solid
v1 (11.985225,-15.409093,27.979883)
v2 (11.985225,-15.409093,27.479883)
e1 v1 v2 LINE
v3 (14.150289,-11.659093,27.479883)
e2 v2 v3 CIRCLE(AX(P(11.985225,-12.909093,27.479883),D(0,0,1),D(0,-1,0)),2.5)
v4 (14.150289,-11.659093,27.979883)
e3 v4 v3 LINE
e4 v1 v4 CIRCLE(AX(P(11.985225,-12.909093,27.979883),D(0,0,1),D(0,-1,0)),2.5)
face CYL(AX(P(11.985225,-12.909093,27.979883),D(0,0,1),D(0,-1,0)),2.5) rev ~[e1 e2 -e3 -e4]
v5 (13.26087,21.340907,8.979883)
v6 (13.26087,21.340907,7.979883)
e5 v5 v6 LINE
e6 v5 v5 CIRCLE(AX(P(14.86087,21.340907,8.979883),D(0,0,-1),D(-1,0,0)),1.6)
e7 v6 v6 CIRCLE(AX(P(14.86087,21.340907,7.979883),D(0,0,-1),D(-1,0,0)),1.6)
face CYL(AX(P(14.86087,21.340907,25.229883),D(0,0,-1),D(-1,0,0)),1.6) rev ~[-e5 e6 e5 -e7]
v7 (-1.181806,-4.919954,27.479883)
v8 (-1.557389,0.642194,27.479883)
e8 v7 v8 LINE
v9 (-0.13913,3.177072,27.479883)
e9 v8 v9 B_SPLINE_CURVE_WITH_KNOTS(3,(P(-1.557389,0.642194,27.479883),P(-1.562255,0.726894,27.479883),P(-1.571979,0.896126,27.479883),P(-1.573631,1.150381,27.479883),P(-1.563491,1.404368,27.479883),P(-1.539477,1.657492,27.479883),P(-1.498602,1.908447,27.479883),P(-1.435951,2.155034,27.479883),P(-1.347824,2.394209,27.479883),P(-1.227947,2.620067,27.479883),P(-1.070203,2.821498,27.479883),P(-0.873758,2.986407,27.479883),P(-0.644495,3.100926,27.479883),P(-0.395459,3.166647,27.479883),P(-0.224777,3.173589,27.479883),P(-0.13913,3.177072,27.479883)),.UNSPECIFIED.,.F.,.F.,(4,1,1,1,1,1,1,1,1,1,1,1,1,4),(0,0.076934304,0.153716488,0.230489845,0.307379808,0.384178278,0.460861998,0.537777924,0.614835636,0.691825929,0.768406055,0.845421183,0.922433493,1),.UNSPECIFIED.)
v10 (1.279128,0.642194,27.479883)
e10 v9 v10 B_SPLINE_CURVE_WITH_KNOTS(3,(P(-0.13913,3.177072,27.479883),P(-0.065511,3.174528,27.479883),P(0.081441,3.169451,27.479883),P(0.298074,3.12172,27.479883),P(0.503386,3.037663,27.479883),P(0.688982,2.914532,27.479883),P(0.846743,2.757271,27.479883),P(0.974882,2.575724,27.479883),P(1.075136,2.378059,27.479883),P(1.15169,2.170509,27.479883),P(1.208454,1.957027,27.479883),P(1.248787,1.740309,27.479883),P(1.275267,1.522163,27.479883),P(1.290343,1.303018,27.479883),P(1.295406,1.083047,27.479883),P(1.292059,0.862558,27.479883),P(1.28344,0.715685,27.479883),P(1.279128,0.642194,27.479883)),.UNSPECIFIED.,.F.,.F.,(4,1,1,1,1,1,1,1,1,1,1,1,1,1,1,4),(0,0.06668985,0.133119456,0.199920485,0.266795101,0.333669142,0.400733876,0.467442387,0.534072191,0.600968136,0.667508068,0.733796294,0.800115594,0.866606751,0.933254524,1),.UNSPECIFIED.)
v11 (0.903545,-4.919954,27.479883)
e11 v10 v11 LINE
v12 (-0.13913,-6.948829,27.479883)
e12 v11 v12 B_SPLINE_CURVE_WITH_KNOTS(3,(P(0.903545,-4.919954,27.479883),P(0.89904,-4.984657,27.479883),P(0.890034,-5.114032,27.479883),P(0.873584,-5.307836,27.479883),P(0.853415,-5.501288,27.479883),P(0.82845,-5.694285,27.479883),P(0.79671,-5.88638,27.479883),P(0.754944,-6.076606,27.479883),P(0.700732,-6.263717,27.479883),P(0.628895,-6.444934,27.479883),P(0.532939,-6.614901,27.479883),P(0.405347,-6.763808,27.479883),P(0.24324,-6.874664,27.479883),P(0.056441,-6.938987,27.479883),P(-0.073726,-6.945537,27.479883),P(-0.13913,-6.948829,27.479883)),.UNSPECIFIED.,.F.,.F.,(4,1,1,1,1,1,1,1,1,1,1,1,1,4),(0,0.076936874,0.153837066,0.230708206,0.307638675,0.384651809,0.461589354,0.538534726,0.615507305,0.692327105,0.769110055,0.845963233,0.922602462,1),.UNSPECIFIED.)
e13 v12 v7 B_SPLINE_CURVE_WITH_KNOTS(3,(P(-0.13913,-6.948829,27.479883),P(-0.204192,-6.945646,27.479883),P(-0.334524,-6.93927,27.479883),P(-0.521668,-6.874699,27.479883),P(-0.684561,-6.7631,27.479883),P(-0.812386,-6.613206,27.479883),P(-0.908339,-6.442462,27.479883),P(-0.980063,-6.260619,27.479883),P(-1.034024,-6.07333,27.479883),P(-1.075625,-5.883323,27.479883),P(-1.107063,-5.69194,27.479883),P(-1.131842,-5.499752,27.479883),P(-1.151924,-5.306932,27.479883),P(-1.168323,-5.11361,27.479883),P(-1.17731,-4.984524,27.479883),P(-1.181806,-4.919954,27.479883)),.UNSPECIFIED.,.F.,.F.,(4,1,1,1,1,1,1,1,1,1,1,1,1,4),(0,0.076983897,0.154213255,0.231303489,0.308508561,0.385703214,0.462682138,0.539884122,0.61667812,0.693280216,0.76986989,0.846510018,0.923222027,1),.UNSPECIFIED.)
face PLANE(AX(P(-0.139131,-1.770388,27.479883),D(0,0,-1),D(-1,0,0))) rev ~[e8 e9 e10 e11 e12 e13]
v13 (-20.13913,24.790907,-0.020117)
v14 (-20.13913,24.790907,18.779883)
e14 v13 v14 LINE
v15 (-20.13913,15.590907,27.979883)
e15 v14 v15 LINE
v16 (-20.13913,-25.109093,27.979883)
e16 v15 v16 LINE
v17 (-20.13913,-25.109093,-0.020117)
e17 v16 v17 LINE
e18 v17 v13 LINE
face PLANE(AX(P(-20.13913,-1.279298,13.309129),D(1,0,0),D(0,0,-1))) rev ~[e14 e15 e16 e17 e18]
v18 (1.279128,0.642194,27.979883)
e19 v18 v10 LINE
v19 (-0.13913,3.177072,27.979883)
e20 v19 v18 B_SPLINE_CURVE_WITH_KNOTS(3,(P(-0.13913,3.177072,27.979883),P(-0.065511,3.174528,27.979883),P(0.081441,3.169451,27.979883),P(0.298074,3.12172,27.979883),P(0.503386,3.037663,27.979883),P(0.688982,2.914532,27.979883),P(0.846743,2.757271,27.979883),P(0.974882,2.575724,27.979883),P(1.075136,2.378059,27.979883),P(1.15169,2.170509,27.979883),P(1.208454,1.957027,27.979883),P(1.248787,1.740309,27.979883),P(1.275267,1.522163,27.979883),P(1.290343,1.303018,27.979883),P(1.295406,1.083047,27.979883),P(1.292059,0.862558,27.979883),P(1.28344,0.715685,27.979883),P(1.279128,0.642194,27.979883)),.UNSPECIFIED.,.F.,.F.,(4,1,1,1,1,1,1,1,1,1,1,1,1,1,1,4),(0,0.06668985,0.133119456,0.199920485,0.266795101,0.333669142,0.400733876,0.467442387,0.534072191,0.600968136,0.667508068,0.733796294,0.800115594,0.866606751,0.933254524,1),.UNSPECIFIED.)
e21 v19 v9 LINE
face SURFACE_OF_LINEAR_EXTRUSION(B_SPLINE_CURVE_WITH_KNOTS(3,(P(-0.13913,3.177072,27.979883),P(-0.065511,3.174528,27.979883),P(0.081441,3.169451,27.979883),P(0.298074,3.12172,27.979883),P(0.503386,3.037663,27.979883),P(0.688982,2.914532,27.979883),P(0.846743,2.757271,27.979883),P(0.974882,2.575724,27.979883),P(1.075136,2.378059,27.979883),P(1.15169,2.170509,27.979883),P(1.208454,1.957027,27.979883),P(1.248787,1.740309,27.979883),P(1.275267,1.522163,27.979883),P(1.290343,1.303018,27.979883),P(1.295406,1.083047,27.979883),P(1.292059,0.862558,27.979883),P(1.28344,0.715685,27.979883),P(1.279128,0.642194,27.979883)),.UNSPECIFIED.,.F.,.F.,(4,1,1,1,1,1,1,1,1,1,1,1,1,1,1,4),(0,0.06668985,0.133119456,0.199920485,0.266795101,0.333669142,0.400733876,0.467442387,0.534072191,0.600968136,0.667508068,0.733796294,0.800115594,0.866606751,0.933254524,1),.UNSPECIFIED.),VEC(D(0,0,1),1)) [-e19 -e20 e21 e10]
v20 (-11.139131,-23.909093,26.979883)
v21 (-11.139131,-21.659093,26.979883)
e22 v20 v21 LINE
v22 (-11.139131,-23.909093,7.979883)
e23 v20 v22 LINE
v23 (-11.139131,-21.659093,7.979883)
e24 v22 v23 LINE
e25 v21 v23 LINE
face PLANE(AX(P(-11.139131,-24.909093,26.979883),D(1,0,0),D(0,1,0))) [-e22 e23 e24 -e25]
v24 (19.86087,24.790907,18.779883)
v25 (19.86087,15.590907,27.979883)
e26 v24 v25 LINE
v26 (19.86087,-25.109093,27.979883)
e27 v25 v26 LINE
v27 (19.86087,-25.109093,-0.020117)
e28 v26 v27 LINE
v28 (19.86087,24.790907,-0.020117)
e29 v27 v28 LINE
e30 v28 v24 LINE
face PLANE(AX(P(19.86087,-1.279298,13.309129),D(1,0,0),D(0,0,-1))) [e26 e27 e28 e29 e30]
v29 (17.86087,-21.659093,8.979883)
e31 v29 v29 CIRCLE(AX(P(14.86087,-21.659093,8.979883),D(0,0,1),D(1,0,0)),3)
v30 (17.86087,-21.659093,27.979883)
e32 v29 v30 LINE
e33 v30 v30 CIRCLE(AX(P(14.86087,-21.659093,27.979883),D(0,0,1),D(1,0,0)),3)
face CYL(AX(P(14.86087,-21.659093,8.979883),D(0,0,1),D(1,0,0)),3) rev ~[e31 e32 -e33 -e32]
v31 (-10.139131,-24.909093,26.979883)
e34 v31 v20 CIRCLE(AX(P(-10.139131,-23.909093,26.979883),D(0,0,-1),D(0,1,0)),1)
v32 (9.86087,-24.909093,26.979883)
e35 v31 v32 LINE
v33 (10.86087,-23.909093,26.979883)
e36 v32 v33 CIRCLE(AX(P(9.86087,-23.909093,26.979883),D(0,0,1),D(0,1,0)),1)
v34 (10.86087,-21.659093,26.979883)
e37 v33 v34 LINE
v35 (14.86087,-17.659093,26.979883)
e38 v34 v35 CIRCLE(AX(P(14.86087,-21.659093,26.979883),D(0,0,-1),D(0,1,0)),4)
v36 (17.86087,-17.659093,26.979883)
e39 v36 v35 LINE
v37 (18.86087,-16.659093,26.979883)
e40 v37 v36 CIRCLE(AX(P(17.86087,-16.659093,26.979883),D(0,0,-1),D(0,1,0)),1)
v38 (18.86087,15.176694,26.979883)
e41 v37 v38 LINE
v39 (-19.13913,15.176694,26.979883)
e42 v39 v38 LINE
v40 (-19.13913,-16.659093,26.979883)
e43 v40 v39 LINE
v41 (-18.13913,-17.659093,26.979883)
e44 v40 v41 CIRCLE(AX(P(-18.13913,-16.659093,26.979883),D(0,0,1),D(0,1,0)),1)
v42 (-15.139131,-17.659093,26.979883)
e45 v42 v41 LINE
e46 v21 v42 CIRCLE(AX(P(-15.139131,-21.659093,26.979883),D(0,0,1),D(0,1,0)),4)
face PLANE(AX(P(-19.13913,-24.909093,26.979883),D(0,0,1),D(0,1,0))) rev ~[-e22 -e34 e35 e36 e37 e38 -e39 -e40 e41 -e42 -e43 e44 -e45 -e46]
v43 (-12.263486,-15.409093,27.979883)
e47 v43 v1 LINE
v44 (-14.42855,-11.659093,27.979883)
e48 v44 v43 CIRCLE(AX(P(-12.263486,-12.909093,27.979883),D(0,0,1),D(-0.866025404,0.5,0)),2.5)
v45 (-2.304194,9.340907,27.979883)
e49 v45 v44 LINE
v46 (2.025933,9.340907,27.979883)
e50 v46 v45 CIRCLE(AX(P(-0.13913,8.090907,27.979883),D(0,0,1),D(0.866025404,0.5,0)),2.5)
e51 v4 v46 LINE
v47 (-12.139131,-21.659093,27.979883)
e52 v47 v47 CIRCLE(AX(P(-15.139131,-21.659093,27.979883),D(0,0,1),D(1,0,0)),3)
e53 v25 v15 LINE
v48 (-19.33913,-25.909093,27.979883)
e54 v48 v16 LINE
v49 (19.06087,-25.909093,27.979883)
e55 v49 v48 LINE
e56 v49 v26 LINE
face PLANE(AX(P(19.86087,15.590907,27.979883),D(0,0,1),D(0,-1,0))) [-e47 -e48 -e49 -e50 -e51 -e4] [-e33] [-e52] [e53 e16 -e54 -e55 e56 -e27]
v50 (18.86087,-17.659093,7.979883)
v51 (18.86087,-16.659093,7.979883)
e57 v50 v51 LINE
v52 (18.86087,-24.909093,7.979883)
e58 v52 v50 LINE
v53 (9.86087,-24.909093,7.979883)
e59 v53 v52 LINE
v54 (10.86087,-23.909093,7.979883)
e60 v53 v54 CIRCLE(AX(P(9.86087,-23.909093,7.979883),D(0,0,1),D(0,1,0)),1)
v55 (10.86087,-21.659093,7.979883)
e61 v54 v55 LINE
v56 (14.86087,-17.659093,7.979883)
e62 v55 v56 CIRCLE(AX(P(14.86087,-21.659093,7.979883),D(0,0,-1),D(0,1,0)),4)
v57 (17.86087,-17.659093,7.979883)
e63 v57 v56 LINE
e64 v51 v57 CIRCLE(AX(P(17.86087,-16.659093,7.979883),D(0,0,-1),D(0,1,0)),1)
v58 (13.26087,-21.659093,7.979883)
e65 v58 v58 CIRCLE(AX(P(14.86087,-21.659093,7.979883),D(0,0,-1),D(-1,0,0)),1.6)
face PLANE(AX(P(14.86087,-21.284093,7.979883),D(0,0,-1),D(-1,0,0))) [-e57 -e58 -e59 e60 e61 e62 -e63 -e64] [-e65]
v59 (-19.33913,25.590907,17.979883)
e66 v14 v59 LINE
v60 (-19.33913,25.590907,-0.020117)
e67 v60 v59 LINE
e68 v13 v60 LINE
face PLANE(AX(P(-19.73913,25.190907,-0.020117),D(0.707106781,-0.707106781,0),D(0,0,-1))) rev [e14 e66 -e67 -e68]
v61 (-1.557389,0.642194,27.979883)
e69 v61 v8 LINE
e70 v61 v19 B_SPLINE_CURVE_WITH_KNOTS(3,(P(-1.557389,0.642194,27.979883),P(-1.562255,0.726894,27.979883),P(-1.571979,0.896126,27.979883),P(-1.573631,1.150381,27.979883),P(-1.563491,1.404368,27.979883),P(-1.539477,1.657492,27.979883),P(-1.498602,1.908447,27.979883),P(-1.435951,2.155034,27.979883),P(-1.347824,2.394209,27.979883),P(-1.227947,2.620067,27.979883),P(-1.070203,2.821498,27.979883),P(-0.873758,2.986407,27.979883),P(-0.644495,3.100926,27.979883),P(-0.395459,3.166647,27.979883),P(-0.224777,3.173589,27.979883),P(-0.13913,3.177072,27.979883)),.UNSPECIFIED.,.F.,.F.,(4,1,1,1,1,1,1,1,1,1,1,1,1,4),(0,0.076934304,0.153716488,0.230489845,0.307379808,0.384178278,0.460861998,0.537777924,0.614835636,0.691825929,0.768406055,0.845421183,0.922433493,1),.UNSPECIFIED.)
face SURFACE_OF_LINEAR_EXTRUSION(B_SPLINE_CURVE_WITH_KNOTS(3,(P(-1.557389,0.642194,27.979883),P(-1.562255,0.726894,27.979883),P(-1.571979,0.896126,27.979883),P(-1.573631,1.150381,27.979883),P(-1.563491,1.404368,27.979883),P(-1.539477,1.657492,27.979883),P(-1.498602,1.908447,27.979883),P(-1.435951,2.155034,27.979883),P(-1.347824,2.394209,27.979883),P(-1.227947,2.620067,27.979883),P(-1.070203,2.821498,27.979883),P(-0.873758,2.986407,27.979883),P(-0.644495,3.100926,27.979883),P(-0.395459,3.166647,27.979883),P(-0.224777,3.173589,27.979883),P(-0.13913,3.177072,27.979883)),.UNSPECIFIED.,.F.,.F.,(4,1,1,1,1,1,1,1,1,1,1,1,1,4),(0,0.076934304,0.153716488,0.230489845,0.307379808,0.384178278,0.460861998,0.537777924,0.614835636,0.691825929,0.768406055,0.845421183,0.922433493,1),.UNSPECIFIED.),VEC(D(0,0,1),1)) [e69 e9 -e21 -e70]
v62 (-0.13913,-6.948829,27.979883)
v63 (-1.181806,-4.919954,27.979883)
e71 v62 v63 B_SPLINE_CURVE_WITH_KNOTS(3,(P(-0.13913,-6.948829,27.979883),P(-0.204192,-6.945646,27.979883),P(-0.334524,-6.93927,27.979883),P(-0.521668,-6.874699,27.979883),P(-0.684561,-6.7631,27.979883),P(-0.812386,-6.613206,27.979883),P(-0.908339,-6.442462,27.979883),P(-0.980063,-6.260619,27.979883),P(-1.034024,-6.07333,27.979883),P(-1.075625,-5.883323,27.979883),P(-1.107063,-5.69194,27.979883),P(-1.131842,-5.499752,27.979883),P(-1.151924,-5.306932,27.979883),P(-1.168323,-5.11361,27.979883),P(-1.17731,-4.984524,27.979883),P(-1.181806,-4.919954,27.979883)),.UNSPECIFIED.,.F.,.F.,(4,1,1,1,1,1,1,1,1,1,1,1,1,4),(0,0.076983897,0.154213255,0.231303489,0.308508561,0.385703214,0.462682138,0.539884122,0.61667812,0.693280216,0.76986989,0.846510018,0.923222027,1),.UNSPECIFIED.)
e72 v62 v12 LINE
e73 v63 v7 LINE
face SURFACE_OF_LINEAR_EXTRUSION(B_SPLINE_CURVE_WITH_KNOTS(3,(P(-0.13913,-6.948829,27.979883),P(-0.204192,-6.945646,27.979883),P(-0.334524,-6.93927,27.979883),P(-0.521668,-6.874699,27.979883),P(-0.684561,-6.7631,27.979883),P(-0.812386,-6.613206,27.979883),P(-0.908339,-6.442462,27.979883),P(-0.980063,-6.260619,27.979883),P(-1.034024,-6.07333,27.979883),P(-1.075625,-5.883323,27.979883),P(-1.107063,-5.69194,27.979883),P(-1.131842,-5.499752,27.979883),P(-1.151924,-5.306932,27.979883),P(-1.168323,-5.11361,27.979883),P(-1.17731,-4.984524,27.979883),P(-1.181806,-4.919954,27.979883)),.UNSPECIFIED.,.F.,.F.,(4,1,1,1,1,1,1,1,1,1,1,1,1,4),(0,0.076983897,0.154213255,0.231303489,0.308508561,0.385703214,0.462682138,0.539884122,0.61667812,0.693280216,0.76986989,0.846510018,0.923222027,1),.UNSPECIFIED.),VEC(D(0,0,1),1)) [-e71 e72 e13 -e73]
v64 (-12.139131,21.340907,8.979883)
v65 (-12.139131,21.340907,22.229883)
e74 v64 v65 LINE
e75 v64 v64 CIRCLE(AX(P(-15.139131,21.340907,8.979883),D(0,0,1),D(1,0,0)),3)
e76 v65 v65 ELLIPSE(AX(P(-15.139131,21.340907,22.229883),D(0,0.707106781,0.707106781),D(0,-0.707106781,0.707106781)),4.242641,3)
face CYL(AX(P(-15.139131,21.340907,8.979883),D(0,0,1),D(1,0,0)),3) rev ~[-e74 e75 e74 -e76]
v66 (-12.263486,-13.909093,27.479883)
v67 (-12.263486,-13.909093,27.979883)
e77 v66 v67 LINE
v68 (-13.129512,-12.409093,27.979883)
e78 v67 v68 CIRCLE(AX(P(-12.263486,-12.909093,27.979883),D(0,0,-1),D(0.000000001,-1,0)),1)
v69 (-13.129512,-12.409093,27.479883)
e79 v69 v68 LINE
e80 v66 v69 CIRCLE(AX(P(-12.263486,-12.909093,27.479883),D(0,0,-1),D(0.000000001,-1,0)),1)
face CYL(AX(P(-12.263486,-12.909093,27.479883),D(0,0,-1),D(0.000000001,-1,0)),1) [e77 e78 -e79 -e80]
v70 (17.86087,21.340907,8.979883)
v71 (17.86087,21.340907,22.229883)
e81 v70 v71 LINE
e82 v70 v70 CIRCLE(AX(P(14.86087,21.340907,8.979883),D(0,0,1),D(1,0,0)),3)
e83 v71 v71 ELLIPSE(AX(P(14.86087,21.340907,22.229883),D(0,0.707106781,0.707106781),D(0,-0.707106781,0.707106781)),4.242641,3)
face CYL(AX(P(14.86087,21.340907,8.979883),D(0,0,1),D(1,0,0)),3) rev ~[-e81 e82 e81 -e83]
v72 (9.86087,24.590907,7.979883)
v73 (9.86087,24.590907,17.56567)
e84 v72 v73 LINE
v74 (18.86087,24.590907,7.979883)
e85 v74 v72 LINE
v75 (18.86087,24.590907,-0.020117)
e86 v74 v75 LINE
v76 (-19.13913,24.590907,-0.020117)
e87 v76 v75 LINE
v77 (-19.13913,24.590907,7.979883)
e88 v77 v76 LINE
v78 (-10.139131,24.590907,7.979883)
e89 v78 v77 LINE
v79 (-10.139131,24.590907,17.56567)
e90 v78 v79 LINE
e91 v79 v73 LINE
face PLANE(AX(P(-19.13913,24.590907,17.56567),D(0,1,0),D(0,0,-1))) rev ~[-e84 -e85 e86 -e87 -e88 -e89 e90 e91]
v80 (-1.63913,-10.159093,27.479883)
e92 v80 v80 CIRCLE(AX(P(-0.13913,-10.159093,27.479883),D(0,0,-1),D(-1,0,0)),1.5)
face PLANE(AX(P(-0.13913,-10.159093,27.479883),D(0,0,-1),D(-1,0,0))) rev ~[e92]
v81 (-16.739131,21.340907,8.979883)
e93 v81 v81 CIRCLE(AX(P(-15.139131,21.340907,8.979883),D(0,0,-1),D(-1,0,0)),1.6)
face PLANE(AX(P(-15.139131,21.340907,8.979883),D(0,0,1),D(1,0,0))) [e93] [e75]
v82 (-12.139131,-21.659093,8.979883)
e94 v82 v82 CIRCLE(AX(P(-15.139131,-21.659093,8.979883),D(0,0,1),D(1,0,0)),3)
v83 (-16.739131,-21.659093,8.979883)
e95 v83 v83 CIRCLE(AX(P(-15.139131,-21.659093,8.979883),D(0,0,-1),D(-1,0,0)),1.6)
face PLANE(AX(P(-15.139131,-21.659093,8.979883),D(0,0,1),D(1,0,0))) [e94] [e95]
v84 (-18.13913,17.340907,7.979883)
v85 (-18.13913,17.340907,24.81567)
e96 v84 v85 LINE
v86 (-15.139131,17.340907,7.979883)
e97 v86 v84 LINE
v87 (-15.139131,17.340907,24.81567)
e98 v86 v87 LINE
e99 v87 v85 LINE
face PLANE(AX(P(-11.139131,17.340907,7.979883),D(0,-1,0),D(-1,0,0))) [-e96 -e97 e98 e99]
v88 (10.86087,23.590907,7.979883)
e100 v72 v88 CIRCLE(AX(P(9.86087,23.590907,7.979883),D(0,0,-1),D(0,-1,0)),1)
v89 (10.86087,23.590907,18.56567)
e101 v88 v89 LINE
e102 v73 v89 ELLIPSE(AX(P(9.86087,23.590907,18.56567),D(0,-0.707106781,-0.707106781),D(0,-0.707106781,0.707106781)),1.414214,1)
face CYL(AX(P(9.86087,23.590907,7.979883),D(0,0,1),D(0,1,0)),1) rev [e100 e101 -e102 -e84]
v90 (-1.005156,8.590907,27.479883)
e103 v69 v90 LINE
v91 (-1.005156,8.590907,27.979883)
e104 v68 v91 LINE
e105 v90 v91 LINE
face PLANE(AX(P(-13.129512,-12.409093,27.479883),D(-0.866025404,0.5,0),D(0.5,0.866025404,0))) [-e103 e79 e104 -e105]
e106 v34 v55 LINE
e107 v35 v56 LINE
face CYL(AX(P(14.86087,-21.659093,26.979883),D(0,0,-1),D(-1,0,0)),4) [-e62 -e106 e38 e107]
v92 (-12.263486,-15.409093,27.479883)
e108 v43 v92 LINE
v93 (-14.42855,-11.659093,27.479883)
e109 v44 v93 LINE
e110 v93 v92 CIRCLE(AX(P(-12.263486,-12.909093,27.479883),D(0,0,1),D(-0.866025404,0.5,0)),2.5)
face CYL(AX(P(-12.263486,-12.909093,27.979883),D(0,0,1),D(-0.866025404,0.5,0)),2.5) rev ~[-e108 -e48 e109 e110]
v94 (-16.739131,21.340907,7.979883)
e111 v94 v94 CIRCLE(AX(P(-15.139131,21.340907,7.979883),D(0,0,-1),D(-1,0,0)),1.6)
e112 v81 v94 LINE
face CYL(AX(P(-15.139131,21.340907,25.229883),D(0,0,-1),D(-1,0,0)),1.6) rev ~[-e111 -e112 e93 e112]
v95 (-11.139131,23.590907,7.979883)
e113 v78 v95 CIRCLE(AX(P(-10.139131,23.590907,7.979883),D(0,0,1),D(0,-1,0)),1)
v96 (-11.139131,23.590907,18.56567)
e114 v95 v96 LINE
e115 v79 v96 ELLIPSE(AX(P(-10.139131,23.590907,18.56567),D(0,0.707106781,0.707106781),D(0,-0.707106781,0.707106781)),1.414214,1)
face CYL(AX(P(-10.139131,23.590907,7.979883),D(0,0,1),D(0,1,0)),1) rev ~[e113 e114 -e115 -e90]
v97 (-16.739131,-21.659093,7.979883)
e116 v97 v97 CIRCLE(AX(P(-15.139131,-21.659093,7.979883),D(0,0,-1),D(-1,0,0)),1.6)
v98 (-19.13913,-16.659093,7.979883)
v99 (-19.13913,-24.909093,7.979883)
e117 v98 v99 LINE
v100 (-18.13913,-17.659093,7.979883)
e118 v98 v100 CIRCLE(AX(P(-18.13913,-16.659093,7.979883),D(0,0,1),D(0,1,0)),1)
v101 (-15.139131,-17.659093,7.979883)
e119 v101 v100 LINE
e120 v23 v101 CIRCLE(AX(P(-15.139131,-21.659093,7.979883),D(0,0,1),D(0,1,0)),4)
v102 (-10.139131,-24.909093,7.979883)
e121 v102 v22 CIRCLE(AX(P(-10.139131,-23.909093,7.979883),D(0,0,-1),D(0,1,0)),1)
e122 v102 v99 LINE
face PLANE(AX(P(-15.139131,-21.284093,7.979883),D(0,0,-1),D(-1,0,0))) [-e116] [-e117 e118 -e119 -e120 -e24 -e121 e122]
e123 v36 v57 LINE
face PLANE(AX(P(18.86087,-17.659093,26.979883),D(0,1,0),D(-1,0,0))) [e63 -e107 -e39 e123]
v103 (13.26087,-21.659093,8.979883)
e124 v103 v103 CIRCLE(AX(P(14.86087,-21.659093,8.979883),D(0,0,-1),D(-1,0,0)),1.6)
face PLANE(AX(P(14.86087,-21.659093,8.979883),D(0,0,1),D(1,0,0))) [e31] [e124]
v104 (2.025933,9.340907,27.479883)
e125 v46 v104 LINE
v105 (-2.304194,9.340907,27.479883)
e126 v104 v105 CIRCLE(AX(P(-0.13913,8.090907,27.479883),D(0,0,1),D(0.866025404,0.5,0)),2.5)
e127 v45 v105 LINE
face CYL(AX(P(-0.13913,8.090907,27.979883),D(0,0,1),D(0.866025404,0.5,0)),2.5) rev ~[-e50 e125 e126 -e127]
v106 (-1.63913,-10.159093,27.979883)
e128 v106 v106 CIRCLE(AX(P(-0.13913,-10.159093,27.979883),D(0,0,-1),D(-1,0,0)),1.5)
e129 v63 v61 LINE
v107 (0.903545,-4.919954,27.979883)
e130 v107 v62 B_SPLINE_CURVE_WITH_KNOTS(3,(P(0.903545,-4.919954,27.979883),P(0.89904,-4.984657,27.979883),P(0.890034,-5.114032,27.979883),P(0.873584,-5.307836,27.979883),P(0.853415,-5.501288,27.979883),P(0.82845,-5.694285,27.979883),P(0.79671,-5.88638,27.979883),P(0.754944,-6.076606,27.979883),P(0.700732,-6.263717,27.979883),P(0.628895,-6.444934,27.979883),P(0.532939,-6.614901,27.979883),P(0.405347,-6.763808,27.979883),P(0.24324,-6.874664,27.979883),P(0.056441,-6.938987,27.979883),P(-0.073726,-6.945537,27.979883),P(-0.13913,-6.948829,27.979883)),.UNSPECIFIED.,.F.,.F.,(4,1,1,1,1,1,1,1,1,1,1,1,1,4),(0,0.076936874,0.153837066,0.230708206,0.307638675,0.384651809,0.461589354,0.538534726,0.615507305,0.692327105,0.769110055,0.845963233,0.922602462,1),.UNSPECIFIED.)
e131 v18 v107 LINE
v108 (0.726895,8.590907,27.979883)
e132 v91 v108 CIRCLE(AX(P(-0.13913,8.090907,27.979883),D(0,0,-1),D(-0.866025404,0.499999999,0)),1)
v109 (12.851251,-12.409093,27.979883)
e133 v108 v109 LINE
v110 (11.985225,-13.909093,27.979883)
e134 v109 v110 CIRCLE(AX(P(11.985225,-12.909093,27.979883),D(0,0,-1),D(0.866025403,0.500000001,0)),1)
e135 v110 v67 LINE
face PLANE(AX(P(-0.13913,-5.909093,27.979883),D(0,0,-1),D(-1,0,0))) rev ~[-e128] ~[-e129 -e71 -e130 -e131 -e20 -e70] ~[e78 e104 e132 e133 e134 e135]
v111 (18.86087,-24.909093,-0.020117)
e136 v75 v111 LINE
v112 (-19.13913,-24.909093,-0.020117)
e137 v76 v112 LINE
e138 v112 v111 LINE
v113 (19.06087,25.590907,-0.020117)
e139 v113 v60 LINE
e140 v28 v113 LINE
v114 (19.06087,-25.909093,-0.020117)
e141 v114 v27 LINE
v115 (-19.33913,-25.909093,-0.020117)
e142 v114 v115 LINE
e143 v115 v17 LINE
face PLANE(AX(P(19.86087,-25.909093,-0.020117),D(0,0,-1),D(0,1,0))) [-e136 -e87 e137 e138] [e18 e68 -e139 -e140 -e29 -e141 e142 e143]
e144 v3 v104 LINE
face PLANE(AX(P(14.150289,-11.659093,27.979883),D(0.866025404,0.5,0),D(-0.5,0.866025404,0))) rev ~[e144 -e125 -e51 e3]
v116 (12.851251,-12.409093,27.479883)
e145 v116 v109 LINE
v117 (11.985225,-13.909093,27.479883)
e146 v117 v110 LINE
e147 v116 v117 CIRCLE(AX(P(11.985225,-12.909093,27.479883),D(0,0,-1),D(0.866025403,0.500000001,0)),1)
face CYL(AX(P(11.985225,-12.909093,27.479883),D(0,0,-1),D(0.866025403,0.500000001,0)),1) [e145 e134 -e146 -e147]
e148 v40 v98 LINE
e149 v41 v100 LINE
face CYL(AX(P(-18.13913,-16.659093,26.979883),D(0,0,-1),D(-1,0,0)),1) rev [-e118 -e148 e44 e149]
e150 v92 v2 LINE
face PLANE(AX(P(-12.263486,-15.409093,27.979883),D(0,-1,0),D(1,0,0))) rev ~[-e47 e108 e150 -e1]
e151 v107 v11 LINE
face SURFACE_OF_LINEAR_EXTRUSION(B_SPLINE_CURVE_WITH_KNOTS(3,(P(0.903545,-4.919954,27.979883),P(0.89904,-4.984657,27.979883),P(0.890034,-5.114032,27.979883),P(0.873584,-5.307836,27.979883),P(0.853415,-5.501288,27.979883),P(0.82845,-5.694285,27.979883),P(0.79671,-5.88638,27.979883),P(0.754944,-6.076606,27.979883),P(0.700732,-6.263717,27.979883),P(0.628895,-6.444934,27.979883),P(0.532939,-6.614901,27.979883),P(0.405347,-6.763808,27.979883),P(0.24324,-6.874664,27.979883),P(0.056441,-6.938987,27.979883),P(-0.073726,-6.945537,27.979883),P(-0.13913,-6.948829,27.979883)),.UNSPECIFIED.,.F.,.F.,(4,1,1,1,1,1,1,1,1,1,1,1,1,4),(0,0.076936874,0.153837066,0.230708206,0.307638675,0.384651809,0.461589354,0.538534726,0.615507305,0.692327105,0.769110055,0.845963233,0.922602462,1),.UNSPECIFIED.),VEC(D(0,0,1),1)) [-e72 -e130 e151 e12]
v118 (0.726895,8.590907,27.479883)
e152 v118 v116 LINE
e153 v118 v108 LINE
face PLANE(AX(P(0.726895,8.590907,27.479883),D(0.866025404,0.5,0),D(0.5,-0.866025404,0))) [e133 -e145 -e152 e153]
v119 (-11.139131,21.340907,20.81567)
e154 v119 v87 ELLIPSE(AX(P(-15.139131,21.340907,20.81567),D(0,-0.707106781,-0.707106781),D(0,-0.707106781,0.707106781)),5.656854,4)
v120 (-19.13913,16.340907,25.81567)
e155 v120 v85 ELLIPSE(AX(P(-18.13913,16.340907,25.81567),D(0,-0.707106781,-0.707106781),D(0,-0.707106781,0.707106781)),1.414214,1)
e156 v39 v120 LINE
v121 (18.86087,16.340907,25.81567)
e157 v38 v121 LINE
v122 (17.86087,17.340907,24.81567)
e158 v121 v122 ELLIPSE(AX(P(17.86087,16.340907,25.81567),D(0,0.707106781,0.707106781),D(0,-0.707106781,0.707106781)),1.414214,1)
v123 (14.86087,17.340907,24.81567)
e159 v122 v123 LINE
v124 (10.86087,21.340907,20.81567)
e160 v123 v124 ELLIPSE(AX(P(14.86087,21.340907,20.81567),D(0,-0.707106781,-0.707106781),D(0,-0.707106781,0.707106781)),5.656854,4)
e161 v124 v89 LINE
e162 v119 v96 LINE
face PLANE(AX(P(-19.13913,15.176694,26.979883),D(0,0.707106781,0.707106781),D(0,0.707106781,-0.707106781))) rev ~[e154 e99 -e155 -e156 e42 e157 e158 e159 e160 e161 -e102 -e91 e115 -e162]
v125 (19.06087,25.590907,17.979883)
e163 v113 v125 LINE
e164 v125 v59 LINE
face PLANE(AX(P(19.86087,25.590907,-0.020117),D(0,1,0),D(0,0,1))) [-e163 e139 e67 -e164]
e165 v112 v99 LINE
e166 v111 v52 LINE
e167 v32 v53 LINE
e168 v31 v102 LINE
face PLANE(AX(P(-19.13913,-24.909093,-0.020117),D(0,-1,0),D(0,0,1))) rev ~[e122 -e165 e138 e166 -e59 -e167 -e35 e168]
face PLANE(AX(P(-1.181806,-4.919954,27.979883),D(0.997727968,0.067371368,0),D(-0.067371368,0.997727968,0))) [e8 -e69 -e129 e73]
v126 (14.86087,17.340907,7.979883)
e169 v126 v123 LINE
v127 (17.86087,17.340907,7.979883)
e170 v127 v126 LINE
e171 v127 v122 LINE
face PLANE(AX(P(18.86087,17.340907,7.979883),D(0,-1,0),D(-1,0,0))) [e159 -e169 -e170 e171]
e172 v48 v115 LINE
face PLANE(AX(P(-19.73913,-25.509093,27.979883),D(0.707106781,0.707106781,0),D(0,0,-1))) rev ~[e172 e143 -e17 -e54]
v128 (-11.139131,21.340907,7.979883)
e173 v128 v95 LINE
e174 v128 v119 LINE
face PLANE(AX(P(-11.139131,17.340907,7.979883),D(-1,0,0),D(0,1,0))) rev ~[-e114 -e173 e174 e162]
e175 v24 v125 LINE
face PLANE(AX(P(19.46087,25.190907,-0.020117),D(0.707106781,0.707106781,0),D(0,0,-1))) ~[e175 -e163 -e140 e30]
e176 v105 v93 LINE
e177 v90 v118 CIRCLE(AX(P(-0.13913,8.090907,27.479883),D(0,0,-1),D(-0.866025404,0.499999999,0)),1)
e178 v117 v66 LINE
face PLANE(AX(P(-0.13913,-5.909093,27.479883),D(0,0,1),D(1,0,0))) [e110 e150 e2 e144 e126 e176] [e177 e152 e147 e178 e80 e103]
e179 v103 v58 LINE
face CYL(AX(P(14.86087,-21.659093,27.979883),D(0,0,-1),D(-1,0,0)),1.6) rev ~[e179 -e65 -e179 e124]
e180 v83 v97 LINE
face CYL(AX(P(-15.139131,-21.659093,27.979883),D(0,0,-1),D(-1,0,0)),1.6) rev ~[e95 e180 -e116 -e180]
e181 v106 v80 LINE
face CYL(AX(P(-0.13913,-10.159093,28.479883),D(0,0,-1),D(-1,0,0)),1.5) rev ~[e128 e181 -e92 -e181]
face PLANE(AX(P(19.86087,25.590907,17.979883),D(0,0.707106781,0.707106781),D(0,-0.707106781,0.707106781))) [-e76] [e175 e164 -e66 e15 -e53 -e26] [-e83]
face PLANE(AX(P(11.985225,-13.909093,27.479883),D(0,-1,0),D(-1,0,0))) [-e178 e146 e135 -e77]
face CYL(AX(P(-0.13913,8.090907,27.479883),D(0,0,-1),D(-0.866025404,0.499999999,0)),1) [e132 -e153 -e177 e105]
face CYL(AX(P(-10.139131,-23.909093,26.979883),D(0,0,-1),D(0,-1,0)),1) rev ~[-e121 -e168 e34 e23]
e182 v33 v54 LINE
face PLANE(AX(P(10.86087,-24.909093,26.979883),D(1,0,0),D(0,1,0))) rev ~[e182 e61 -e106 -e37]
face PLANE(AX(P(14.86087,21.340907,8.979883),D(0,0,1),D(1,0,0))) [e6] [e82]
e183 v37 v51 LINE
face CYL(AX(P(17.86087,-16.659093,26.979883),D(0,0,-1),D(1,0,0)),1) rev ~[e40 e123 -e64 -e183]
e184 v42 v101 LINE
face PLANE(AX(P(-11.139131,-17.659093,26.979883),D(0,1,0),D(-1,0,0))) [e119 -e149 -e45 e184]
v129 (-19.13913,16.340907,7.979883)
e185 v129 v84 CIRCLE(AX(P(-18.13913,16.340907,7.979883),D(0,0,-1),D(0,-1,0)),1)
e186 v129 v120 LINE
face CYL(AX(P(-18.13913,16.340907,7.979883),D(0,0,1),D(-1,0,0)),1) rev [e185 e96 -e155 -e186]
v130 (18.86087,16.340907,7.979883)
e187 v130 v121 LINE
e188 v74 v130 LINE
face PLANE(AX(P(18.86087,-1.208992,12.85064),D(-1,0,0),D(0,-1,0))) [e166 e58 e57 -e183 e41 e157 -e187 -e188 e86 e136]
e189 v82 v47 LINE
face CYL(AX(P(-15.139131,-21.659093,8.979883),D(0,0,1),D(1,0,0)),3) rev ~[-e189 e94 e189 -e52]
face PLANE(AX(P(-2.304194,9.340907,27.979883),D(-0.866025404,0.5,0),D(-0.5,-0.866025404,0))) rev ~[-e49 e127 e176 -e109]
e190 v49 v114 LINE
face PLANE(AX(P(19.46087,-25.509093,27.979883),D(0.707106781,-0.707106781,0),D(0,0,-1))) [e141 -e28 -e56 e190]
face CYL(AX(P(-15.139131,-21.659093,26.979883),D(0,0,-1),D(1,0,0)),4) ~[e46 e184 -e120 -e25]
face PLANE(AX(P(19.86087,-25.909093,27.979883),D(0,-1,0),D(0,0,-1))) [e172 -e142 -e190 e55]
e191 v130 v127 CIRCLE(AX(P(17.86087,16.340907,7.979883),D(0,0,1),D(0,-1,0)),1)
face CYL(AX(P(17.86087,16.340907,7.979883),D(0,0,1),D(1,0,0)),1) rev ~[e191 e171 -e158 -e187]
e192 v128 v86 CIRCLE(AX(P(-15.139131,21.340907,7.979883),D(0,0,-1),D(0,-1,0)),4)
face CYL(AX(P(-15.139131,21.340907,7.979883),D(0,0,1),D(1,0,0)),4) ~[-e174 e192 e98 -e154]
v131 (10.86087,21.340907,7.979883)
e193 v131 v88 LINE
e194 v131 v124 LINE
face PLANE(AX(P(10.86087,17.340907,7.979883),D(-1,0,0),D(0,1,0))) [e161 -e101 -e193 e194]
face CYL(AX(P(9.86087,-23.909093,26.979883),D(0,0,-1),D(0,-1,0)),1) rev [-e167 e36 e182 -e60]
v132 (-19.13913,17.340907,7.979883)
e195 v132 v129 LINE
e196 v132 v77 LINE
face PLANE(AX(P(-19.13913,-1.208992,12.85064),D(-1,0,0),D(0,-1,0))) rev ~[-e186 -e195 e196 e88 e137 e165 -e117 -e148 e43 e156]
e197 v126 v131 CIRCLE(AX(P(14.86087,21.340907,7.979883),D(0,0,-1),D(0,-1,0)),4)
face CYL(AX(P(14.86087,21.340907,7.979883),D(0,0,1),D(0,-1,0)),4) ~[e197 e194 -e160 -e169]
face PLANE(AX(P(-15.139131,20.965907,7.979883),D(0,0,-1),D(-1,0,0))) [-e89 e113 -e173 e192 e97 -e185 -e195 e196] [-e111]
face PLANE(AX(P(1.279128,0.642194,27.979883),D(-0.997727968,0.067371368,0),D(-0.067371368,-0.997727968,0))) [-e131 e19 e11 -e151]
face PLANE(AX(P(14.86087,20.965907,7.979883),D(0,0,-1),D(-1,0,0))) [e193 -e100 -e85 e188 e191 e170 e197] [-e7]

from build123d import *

# Parameters (mm, degrees)
BOSS_EXTRUDE1_DEPTH                                 = 40
CUT_EXTRUDE1_DEPTH                                  = 38
BOSS_EXTRUDE2_REACH                                 = 22
SKETCH6_W                                           = 7.999999469
SKETCH6_H                                           = 7.25
BOSS_EXTRUDE3_REACH                                 = 22
SKETCH7_W                                           = 7.999999468
SKETCH7_H                                           = 7.25
SKETCH8_W                                           = 7.999999727
SKETCH8_H                                           = 7.25
BOSS_EXTRUDE4_DEPTH                                 = 19
SKETCH9_W                                           = 7.999999728
SKETCH9_H                                           = 7.25
BOSS_EXTRUDE5_DEPTH                                 = 19
CUT_EXTRUDE4_DEPTH                                  = 0.5
BOSS_EXTRUDE6_DEPTH                                 = 0.5
CUT_EXTRUDE5_START                                  = 1.500005
CUT_EXTRUDE5_DEPTH                                  = 0.5
F_3_CLEARANCE_HOLE1_D                               = 3
F_3_CLEARANCE_HOLE1_DEPTH                           = 0.5
CBORE_FOR_4_BINDING_HEAD_MACHINE_SCREW1_D           = 3.2
CBORE_FOR_4_BINDING_HEAD_MACHINE_SCREW1_DEPTH       = 28
CBORE_FOR_4_BINDING_HEAD_MACHINE_SCREW1_CBORE_D     = 6
CBORE_FOR_4_BINDING_HEAD_MACHINE_SCREW1_CBORE_DEPTH = 19.000000001
CBORE_FOR_4_BINDING_HEAD_MACHINE_SCREW2_D           = 3.2
CBORE_FOR_4_BINDING_HEAD_MACHINE_SCREW2_DEPTH       = 25.25
CBORE_FOR_4_BINDING_HEAD_MACHINE_SCREW2_CBORE_D     = 6
CBORE_FOR_4_BINDING_HEAD_MACHINE_SCREW2_CBORE_DEPTH = 16.250000001
CHAMFER2_SIZE                                       = 0.8
FILLET1_R                                           = 1
FILLET2_R                                           = 4


with BuildPart() as part:
    # Sketch1 → Boss-Extrude1 (new body)
    with BuildSketch(Plane(origin=(19.860869514, 0, 0), x_dir=(0, 0, -1), z_dir=(1, 0, 0))):
        Polygon((0.020116779, -25.909092826), (0.020116779, 25.590907174), (-17.979883221, 25.590907174), (-27.979883221, 15.590907174), (-27.979883221, -25.909092826), align=None)
    extrude(amount=-BOSS_EXTRUDE1_DEPTH)

    # Sketch2 → Cut-Extrude1 (cut)
    with BuildSketch(Plane(origin=(-19.139130486, 0, 0), x_dir=(0, -1, 0), z_dir=(-1, 0, 0))):
        Polygon((-24.590907174, 17.565669658), (-24.590907174, -0.020116779), (24.909092826, -0.020116779), (24.909092826, 26.979883221), (-15.176693611, 26.979883221), align=None)
    extrude(amount=-CUT_EXTRUDE1_DEPTH, mode=Mode.SUBTRACT)

    # Sketch6 → Boss-Extrude2 (add, up to next)
    with BuildSketch(Plane(origin=(0, 0, 7.979883221), x_dir=(-1, 0, 0), z_dir=(0, 0, -1)), mode=Mode.PRIVATE) as boss_extrude2_sk1:
        with Locations((15.139130752, 20.965907174)):
            Rectangle(SKETCH6_W, SKETCH6_H)
    boss_extrude2_tool1 = extrude(boss_extrude2_sk1.sketch, amount=-BOSS_EXTRUDE2_REACH, mode=Mode.PRIVATE) - part.part
    add(boss_extrude2_tool1.solids().sort_by_distance((-15.139131, 20.965907, 7.979883))[0])

    # Sketch7 → Boss-Extrude3 (add, up to next)
    with BuildSketch(Plane(origin=(0, 0, 7.979883221), x_dir=(-1, 0, 0), z_dir=(0, 0, -1)), mode=Mode.PRIVATE) as boss_extrude3_sk1:
        with Locations((-14.86086978, 20.965907174)):
            Rectangle(SKETCH7_W, SKETCH7_H)
    boss_extrude3_tool1 = extrude(boss_extrude3_sk1.sketch, amount=-BOSS_EXTRUDE3_REACH, mode=Mode.PRIVATE) - part.part
    add(boss_extrude3_tool1.solids().sort_by_distance((14.86087, 20.965907, 7.979883))[0])

    # Sketch8 → Boss-Extrude4 (add)
    with BuildSketch(Plane(origin=(0, 0, 26.979883221), x_dir=(-1, 0, 0), z_dir=(0, 0, -1))):
        with Locations((-14.86086965, -21.284092826)):
            Rectangle(SKETCH8_W, SKETCH8_H)
    extrude(amount=BOSS_EXTRUDE4_DEPTH)

    # Sketch9 → Boss-Extrude5 (add)
    with BuildSketch(Plane(origin=(0, 0, 26.979883221), x_dir=(-1, 0, 0), z_dir=(0, 0, -1))):
        with Locations((15.139130622, -21.284092826)):
            Rectangle(SKETCH9_W, SKETCH9_H)
    extrude(amount=BOSS_EXTRUDE5_DEPTH)

    # Sketch10 → Cut-Extrude4 (cut)
    with BuildSketch(Plane.XY.offset(27.979883221)):
        with BuildLine():
            Line((14.150288676, -11.659092827), (2.025933023, 9.340907173))
            ThreePointArc((2.025933023, 9.340907173), (-0.139130487, 10.590907173), (-2.304193997, 9.340907173))
            Line((-2.304193997, 9.340907173), (-14.42854965, -11.659092827))
            ThreePointArc((-14.42854965, -11.659092827), (-14.42854965, -14.159092826), (-12.263486141, -15.409092826))
            Line((-12.263486141, -15.409092826), (11.985225167, -15.409092826))
            ThreePointArc((11.985225167, -15.409092826), (14.150288676, -14.159092826), (14.150288676, -11.659092827))
        make_face()
    extrude(amount=-CUT_EXTRUDE4_DEPTH, mode=Mode.SUBTRACT)

    # Sketch11 → Boss-Extrude6 (add)
    with BuildSketch(Plane.XY.offset(27.479883221)):
        with BuildLine():
            Line((-13.129511542, -12.409092827), (-1.005155889, 8.590907173))
            ThreePointArc((-1.005155889, 8.590907173), (-0.139130485, 9.090907174), (0.72689492, 8.590907173))
            Line((0.72689492, 8.590907173), (12.851250572, -12.409092827))
            ThreePointArc((12.851250572, -12.409092827), (12.851250572, -13.409092827), (11.985225169, -13.909092826))
            Line((11.985225169, -13.909092826), (-12.263486138, -13.909092826))
            ThreePointArc((-12.263486138, -13.909092826), (-13.129511542, -13.409092827), (-13.129511542, -12.409092827))
        make_face()
    extrude(amount=BOSS_EXTRUDE6_DEPTH)

    # Sketch12 → Cut-Extrude5 (cut)
    with BuildSketch(Plane.XY.offset(26.479878344).offset(CUT_EXTRUDE5_START)):
        with BuildLine():
            Line((-1.181805728, -4.919953815), (-1.557388601, 0.642194436))
            add(Edge.make_bspline(
                [(-1.557388601, 0.642194436), (-1.562255195, 0.726894151), (-1.57197876, 0.896126108), (-1.573630596, 1.150381332), (-1.563491274, 1.404367732), (-1.539477279, 1.657492298), (-1.498601615, 1.908446588), (-1.435950641, 2.155034423), (-1.347824447, 2.394209038), (-1.227947002, 2.620066875), (-1.070203444, 2.821498256), (-0.873757735, 2.98640743), (-0.644495445, 3.100925878), (-0.395458992, 3.166647074), (-0.224777297, 3.173588668), (-0.139130486, 3.177071908)],
                knots=[0, 0, 0, 0, 0.076934304, 0.153716488, 0.230489845, 0.307379808, 0.384178278, 0.460861998, 0.537777924, 0.614835636, 0.691825929, 0.768406055, 0.845421183, 0.922433493, 1, 1, 1, 1], degree=3))
            add(Edge.make_bspline(
                [(-0.139130486, 3.177071908), (-0.065510928, 3.174528216), (0.081440904, 3.169450757), (0.298073955, 3.121720242), (0.503386356, 3.037662683), (0.688981961, 2.914531923), (0.846742946, 2.757270627), (0.974882351, 2.575723676), (1.075136008, 2.378059028), (1.151690203, 2.170509138), (1.208454116, 1.957026535), (1.248786563, 1.740308946), (1.275266584, 1.522162803), (1.290343043, 1.303017743), (1.295405911, 1.083047008), (1.292059183, 0.862557831), (1.283440251, 0.71568476), (1.279127629, 0.642194436)],
                knots=[0, 0, 0, 0, 0.06668985, 0.133119456, 0.199920485, 0.266795101, 0.333669142, 0.400733876, 0.467442387, 0.534072191, 0.600968136, 0.667508068, 0.733796294, 0.800115594, 0.866606751, 0.933254524, 1, 1, 1, 1], degree=3))
            Line((1.279127629, 0.642194436), (0.903544756, -4.919953815))
            add(Edge.make_bspline(
                [(0.903544756, -4.919953815), (0.899040298, -4.98465678), (0.890033529, -5.114031861), (0.87358409, -5.307836112), (0.853415093, -5.501287734), (0.828449527, -5.694285405), (0.796710241, -5.88637973), (0.754944033, -6.076605831), (0.700731594, -6.263716972), (0.628895269, -6.444933688), (0.532938656, -6.614900625), (0.405346695, -6.763808252), (0.243240213, -6.874664069), (0.056441287, -6.938986541), (-0.073726294, -6.945537445), (-0.139130486, -6.948829022)],
                knots=[0, 0, 0, 0, 0.076936874, 0.153837066, 0.230708206, 0.307638675, 0.384651809, 0.461589354, 0.538534726, 0.615507305, 0.692327105, 0.769110055, 0.845963233, 0.922602462, 1, 1, 1, 1], degree=3))
            add(Edge.make_bspline(
                [(-0.139130486, -6.948829022), (-0.204192465, -6.945646156), (-0.334523872, -6.939270276), (-0.52166752, -6.874698808), (-0.684560534, -6.763099851), (-0.812386409, -6.613205645), (-0.908338892, -6.442461666), (-0.98006333, -6.260618976), (-1.034024433, -6.073329831), (-1.075624515, -5.883322576), (-1.107062911, -5.691940143), (-1.131842025, -5.499751942), (-1.151924163, -5.306932214), (-1.168322738, -5.113609534), (-1.177310111, -4.984524213), (-1.181805728, -4.919953815)],
                knots=[0, 0, 0, 0, 0.076983897, 0.154213255, 0.231303489, 0.308508561, 0.385703214, 0.462682138, 0.539884122, 0.61667812, 0.693280216, 0.76986989, 0.846510018, 0.923222027, 1, 1, 1, 1], degree=3))
        make_face()
    extrude(amount=-CUT_EXTRUDE5_DEPTH, mode=Mode.SUBTRACT)

    # #3 Clearance Hole1
    with Locations(Plane.XY.offset(27.979883221)):
        with Locations((-0.139130486, -10.159092826)):
            Hole(F_3_CLEARANCE_HOLE1_D / 2, depth=F_3_CLEARANCE_HOLE1_DEPTH)

    # CBORE for #4 Binding Head Machine Screw1
    with Locations(Plane.XY.offset(27.979883221)):
        with Locations((14.860869787, -21.659092826), (-15.139130758, -21.659092826)):
            CounterBoreHole(CBORE_FOR_4_BINDING_HEAD_MACHINE_SCREW1_D / 2, CBORE_FOR_4_BINDING_HEAD_MACHINE_SCREW1_CBORE_D / 2, CBORE_FOR_4_BINDING_HEAD_MACHINE_SCREW1_CBORE_DEPTH, depth=CBORE_FOR_4_BINDING_HEAD_MACHINE_SCREW1_DEPTH)

    # CBORE for #4 Binding Head Machine Screw2
    with Locations(Plane.XY.offset(25.229883221)):
        with Locations((-15.139131017, 21.340907174), (14.860870046, 21.340907174)):
            CounterBoreHole(CBORE_FOR_4_BINDING_HEAD_MACHINE_SCREW2_D / 2, CBORE_FOR_4_BINDING_HEAD_MACHINE_SCREW2_CBORE_D / 2, CBORE_FOR_4_BINDING_HEAD_MACHINE_SCREW2_CBORE_DEPTH, depth=CBORE_FOR_4_BINDING_HEAD_MACHINE_SCREW2_DEPTH)

    # Chamfer2
    chamfer2_edges = [part.edges().sort_by_distance(p)[0] for p in [
        (-20.139130486, 25.590907174, 8.979883221),
        (-20.139130486, -25.909092826, 13.979883221),
        (19.860869514, 25.590907174, 8.979883221),
        (19.860869514, -25.909092826, 13.979883221),
    ]]
    chamfer(chamfer2_edges, length=CHAMFER2_SIZE)

    # Fillet1
    fillet1_edges = [part.edges().sort_by_distance(p)[0] for p in [
        (-11.139131017, 24.590907174, 12.77277644),
        (-19.139130486, 17.340907174, 16.39777644),
        (10.860870046, 24.590907174, 12.77277644),
        (18.860869514, 17.340907174, 16.39777644),
        (10.860869787, -24.909092826, 17.479883221),
        (18.860869514, -17.659092826, 17.479883221),
        (-19.139130486, -17.659092826, 17.479883221),
        (-11.139130758, -24.909092826, 17.479883221),
    ]]
    fillet(fillet1_edges, radius=FILLET1_R)

    # Fillet2
    fillet2_edges = [part.edges().sort_by_distance(p)[0] for p in [
        (-11.139131017, 17.340907174, 16.39777644),
        (10.860870046, 17.340907174, 16.39777644),
        (10.860869787, -17.659092826, 17.479883221),
        (-11.139130758, -17.659092826, 17.479883221),
    ]]
    fillet(fillet2_edges, radius=FILLET2_R)


solid = part.part
